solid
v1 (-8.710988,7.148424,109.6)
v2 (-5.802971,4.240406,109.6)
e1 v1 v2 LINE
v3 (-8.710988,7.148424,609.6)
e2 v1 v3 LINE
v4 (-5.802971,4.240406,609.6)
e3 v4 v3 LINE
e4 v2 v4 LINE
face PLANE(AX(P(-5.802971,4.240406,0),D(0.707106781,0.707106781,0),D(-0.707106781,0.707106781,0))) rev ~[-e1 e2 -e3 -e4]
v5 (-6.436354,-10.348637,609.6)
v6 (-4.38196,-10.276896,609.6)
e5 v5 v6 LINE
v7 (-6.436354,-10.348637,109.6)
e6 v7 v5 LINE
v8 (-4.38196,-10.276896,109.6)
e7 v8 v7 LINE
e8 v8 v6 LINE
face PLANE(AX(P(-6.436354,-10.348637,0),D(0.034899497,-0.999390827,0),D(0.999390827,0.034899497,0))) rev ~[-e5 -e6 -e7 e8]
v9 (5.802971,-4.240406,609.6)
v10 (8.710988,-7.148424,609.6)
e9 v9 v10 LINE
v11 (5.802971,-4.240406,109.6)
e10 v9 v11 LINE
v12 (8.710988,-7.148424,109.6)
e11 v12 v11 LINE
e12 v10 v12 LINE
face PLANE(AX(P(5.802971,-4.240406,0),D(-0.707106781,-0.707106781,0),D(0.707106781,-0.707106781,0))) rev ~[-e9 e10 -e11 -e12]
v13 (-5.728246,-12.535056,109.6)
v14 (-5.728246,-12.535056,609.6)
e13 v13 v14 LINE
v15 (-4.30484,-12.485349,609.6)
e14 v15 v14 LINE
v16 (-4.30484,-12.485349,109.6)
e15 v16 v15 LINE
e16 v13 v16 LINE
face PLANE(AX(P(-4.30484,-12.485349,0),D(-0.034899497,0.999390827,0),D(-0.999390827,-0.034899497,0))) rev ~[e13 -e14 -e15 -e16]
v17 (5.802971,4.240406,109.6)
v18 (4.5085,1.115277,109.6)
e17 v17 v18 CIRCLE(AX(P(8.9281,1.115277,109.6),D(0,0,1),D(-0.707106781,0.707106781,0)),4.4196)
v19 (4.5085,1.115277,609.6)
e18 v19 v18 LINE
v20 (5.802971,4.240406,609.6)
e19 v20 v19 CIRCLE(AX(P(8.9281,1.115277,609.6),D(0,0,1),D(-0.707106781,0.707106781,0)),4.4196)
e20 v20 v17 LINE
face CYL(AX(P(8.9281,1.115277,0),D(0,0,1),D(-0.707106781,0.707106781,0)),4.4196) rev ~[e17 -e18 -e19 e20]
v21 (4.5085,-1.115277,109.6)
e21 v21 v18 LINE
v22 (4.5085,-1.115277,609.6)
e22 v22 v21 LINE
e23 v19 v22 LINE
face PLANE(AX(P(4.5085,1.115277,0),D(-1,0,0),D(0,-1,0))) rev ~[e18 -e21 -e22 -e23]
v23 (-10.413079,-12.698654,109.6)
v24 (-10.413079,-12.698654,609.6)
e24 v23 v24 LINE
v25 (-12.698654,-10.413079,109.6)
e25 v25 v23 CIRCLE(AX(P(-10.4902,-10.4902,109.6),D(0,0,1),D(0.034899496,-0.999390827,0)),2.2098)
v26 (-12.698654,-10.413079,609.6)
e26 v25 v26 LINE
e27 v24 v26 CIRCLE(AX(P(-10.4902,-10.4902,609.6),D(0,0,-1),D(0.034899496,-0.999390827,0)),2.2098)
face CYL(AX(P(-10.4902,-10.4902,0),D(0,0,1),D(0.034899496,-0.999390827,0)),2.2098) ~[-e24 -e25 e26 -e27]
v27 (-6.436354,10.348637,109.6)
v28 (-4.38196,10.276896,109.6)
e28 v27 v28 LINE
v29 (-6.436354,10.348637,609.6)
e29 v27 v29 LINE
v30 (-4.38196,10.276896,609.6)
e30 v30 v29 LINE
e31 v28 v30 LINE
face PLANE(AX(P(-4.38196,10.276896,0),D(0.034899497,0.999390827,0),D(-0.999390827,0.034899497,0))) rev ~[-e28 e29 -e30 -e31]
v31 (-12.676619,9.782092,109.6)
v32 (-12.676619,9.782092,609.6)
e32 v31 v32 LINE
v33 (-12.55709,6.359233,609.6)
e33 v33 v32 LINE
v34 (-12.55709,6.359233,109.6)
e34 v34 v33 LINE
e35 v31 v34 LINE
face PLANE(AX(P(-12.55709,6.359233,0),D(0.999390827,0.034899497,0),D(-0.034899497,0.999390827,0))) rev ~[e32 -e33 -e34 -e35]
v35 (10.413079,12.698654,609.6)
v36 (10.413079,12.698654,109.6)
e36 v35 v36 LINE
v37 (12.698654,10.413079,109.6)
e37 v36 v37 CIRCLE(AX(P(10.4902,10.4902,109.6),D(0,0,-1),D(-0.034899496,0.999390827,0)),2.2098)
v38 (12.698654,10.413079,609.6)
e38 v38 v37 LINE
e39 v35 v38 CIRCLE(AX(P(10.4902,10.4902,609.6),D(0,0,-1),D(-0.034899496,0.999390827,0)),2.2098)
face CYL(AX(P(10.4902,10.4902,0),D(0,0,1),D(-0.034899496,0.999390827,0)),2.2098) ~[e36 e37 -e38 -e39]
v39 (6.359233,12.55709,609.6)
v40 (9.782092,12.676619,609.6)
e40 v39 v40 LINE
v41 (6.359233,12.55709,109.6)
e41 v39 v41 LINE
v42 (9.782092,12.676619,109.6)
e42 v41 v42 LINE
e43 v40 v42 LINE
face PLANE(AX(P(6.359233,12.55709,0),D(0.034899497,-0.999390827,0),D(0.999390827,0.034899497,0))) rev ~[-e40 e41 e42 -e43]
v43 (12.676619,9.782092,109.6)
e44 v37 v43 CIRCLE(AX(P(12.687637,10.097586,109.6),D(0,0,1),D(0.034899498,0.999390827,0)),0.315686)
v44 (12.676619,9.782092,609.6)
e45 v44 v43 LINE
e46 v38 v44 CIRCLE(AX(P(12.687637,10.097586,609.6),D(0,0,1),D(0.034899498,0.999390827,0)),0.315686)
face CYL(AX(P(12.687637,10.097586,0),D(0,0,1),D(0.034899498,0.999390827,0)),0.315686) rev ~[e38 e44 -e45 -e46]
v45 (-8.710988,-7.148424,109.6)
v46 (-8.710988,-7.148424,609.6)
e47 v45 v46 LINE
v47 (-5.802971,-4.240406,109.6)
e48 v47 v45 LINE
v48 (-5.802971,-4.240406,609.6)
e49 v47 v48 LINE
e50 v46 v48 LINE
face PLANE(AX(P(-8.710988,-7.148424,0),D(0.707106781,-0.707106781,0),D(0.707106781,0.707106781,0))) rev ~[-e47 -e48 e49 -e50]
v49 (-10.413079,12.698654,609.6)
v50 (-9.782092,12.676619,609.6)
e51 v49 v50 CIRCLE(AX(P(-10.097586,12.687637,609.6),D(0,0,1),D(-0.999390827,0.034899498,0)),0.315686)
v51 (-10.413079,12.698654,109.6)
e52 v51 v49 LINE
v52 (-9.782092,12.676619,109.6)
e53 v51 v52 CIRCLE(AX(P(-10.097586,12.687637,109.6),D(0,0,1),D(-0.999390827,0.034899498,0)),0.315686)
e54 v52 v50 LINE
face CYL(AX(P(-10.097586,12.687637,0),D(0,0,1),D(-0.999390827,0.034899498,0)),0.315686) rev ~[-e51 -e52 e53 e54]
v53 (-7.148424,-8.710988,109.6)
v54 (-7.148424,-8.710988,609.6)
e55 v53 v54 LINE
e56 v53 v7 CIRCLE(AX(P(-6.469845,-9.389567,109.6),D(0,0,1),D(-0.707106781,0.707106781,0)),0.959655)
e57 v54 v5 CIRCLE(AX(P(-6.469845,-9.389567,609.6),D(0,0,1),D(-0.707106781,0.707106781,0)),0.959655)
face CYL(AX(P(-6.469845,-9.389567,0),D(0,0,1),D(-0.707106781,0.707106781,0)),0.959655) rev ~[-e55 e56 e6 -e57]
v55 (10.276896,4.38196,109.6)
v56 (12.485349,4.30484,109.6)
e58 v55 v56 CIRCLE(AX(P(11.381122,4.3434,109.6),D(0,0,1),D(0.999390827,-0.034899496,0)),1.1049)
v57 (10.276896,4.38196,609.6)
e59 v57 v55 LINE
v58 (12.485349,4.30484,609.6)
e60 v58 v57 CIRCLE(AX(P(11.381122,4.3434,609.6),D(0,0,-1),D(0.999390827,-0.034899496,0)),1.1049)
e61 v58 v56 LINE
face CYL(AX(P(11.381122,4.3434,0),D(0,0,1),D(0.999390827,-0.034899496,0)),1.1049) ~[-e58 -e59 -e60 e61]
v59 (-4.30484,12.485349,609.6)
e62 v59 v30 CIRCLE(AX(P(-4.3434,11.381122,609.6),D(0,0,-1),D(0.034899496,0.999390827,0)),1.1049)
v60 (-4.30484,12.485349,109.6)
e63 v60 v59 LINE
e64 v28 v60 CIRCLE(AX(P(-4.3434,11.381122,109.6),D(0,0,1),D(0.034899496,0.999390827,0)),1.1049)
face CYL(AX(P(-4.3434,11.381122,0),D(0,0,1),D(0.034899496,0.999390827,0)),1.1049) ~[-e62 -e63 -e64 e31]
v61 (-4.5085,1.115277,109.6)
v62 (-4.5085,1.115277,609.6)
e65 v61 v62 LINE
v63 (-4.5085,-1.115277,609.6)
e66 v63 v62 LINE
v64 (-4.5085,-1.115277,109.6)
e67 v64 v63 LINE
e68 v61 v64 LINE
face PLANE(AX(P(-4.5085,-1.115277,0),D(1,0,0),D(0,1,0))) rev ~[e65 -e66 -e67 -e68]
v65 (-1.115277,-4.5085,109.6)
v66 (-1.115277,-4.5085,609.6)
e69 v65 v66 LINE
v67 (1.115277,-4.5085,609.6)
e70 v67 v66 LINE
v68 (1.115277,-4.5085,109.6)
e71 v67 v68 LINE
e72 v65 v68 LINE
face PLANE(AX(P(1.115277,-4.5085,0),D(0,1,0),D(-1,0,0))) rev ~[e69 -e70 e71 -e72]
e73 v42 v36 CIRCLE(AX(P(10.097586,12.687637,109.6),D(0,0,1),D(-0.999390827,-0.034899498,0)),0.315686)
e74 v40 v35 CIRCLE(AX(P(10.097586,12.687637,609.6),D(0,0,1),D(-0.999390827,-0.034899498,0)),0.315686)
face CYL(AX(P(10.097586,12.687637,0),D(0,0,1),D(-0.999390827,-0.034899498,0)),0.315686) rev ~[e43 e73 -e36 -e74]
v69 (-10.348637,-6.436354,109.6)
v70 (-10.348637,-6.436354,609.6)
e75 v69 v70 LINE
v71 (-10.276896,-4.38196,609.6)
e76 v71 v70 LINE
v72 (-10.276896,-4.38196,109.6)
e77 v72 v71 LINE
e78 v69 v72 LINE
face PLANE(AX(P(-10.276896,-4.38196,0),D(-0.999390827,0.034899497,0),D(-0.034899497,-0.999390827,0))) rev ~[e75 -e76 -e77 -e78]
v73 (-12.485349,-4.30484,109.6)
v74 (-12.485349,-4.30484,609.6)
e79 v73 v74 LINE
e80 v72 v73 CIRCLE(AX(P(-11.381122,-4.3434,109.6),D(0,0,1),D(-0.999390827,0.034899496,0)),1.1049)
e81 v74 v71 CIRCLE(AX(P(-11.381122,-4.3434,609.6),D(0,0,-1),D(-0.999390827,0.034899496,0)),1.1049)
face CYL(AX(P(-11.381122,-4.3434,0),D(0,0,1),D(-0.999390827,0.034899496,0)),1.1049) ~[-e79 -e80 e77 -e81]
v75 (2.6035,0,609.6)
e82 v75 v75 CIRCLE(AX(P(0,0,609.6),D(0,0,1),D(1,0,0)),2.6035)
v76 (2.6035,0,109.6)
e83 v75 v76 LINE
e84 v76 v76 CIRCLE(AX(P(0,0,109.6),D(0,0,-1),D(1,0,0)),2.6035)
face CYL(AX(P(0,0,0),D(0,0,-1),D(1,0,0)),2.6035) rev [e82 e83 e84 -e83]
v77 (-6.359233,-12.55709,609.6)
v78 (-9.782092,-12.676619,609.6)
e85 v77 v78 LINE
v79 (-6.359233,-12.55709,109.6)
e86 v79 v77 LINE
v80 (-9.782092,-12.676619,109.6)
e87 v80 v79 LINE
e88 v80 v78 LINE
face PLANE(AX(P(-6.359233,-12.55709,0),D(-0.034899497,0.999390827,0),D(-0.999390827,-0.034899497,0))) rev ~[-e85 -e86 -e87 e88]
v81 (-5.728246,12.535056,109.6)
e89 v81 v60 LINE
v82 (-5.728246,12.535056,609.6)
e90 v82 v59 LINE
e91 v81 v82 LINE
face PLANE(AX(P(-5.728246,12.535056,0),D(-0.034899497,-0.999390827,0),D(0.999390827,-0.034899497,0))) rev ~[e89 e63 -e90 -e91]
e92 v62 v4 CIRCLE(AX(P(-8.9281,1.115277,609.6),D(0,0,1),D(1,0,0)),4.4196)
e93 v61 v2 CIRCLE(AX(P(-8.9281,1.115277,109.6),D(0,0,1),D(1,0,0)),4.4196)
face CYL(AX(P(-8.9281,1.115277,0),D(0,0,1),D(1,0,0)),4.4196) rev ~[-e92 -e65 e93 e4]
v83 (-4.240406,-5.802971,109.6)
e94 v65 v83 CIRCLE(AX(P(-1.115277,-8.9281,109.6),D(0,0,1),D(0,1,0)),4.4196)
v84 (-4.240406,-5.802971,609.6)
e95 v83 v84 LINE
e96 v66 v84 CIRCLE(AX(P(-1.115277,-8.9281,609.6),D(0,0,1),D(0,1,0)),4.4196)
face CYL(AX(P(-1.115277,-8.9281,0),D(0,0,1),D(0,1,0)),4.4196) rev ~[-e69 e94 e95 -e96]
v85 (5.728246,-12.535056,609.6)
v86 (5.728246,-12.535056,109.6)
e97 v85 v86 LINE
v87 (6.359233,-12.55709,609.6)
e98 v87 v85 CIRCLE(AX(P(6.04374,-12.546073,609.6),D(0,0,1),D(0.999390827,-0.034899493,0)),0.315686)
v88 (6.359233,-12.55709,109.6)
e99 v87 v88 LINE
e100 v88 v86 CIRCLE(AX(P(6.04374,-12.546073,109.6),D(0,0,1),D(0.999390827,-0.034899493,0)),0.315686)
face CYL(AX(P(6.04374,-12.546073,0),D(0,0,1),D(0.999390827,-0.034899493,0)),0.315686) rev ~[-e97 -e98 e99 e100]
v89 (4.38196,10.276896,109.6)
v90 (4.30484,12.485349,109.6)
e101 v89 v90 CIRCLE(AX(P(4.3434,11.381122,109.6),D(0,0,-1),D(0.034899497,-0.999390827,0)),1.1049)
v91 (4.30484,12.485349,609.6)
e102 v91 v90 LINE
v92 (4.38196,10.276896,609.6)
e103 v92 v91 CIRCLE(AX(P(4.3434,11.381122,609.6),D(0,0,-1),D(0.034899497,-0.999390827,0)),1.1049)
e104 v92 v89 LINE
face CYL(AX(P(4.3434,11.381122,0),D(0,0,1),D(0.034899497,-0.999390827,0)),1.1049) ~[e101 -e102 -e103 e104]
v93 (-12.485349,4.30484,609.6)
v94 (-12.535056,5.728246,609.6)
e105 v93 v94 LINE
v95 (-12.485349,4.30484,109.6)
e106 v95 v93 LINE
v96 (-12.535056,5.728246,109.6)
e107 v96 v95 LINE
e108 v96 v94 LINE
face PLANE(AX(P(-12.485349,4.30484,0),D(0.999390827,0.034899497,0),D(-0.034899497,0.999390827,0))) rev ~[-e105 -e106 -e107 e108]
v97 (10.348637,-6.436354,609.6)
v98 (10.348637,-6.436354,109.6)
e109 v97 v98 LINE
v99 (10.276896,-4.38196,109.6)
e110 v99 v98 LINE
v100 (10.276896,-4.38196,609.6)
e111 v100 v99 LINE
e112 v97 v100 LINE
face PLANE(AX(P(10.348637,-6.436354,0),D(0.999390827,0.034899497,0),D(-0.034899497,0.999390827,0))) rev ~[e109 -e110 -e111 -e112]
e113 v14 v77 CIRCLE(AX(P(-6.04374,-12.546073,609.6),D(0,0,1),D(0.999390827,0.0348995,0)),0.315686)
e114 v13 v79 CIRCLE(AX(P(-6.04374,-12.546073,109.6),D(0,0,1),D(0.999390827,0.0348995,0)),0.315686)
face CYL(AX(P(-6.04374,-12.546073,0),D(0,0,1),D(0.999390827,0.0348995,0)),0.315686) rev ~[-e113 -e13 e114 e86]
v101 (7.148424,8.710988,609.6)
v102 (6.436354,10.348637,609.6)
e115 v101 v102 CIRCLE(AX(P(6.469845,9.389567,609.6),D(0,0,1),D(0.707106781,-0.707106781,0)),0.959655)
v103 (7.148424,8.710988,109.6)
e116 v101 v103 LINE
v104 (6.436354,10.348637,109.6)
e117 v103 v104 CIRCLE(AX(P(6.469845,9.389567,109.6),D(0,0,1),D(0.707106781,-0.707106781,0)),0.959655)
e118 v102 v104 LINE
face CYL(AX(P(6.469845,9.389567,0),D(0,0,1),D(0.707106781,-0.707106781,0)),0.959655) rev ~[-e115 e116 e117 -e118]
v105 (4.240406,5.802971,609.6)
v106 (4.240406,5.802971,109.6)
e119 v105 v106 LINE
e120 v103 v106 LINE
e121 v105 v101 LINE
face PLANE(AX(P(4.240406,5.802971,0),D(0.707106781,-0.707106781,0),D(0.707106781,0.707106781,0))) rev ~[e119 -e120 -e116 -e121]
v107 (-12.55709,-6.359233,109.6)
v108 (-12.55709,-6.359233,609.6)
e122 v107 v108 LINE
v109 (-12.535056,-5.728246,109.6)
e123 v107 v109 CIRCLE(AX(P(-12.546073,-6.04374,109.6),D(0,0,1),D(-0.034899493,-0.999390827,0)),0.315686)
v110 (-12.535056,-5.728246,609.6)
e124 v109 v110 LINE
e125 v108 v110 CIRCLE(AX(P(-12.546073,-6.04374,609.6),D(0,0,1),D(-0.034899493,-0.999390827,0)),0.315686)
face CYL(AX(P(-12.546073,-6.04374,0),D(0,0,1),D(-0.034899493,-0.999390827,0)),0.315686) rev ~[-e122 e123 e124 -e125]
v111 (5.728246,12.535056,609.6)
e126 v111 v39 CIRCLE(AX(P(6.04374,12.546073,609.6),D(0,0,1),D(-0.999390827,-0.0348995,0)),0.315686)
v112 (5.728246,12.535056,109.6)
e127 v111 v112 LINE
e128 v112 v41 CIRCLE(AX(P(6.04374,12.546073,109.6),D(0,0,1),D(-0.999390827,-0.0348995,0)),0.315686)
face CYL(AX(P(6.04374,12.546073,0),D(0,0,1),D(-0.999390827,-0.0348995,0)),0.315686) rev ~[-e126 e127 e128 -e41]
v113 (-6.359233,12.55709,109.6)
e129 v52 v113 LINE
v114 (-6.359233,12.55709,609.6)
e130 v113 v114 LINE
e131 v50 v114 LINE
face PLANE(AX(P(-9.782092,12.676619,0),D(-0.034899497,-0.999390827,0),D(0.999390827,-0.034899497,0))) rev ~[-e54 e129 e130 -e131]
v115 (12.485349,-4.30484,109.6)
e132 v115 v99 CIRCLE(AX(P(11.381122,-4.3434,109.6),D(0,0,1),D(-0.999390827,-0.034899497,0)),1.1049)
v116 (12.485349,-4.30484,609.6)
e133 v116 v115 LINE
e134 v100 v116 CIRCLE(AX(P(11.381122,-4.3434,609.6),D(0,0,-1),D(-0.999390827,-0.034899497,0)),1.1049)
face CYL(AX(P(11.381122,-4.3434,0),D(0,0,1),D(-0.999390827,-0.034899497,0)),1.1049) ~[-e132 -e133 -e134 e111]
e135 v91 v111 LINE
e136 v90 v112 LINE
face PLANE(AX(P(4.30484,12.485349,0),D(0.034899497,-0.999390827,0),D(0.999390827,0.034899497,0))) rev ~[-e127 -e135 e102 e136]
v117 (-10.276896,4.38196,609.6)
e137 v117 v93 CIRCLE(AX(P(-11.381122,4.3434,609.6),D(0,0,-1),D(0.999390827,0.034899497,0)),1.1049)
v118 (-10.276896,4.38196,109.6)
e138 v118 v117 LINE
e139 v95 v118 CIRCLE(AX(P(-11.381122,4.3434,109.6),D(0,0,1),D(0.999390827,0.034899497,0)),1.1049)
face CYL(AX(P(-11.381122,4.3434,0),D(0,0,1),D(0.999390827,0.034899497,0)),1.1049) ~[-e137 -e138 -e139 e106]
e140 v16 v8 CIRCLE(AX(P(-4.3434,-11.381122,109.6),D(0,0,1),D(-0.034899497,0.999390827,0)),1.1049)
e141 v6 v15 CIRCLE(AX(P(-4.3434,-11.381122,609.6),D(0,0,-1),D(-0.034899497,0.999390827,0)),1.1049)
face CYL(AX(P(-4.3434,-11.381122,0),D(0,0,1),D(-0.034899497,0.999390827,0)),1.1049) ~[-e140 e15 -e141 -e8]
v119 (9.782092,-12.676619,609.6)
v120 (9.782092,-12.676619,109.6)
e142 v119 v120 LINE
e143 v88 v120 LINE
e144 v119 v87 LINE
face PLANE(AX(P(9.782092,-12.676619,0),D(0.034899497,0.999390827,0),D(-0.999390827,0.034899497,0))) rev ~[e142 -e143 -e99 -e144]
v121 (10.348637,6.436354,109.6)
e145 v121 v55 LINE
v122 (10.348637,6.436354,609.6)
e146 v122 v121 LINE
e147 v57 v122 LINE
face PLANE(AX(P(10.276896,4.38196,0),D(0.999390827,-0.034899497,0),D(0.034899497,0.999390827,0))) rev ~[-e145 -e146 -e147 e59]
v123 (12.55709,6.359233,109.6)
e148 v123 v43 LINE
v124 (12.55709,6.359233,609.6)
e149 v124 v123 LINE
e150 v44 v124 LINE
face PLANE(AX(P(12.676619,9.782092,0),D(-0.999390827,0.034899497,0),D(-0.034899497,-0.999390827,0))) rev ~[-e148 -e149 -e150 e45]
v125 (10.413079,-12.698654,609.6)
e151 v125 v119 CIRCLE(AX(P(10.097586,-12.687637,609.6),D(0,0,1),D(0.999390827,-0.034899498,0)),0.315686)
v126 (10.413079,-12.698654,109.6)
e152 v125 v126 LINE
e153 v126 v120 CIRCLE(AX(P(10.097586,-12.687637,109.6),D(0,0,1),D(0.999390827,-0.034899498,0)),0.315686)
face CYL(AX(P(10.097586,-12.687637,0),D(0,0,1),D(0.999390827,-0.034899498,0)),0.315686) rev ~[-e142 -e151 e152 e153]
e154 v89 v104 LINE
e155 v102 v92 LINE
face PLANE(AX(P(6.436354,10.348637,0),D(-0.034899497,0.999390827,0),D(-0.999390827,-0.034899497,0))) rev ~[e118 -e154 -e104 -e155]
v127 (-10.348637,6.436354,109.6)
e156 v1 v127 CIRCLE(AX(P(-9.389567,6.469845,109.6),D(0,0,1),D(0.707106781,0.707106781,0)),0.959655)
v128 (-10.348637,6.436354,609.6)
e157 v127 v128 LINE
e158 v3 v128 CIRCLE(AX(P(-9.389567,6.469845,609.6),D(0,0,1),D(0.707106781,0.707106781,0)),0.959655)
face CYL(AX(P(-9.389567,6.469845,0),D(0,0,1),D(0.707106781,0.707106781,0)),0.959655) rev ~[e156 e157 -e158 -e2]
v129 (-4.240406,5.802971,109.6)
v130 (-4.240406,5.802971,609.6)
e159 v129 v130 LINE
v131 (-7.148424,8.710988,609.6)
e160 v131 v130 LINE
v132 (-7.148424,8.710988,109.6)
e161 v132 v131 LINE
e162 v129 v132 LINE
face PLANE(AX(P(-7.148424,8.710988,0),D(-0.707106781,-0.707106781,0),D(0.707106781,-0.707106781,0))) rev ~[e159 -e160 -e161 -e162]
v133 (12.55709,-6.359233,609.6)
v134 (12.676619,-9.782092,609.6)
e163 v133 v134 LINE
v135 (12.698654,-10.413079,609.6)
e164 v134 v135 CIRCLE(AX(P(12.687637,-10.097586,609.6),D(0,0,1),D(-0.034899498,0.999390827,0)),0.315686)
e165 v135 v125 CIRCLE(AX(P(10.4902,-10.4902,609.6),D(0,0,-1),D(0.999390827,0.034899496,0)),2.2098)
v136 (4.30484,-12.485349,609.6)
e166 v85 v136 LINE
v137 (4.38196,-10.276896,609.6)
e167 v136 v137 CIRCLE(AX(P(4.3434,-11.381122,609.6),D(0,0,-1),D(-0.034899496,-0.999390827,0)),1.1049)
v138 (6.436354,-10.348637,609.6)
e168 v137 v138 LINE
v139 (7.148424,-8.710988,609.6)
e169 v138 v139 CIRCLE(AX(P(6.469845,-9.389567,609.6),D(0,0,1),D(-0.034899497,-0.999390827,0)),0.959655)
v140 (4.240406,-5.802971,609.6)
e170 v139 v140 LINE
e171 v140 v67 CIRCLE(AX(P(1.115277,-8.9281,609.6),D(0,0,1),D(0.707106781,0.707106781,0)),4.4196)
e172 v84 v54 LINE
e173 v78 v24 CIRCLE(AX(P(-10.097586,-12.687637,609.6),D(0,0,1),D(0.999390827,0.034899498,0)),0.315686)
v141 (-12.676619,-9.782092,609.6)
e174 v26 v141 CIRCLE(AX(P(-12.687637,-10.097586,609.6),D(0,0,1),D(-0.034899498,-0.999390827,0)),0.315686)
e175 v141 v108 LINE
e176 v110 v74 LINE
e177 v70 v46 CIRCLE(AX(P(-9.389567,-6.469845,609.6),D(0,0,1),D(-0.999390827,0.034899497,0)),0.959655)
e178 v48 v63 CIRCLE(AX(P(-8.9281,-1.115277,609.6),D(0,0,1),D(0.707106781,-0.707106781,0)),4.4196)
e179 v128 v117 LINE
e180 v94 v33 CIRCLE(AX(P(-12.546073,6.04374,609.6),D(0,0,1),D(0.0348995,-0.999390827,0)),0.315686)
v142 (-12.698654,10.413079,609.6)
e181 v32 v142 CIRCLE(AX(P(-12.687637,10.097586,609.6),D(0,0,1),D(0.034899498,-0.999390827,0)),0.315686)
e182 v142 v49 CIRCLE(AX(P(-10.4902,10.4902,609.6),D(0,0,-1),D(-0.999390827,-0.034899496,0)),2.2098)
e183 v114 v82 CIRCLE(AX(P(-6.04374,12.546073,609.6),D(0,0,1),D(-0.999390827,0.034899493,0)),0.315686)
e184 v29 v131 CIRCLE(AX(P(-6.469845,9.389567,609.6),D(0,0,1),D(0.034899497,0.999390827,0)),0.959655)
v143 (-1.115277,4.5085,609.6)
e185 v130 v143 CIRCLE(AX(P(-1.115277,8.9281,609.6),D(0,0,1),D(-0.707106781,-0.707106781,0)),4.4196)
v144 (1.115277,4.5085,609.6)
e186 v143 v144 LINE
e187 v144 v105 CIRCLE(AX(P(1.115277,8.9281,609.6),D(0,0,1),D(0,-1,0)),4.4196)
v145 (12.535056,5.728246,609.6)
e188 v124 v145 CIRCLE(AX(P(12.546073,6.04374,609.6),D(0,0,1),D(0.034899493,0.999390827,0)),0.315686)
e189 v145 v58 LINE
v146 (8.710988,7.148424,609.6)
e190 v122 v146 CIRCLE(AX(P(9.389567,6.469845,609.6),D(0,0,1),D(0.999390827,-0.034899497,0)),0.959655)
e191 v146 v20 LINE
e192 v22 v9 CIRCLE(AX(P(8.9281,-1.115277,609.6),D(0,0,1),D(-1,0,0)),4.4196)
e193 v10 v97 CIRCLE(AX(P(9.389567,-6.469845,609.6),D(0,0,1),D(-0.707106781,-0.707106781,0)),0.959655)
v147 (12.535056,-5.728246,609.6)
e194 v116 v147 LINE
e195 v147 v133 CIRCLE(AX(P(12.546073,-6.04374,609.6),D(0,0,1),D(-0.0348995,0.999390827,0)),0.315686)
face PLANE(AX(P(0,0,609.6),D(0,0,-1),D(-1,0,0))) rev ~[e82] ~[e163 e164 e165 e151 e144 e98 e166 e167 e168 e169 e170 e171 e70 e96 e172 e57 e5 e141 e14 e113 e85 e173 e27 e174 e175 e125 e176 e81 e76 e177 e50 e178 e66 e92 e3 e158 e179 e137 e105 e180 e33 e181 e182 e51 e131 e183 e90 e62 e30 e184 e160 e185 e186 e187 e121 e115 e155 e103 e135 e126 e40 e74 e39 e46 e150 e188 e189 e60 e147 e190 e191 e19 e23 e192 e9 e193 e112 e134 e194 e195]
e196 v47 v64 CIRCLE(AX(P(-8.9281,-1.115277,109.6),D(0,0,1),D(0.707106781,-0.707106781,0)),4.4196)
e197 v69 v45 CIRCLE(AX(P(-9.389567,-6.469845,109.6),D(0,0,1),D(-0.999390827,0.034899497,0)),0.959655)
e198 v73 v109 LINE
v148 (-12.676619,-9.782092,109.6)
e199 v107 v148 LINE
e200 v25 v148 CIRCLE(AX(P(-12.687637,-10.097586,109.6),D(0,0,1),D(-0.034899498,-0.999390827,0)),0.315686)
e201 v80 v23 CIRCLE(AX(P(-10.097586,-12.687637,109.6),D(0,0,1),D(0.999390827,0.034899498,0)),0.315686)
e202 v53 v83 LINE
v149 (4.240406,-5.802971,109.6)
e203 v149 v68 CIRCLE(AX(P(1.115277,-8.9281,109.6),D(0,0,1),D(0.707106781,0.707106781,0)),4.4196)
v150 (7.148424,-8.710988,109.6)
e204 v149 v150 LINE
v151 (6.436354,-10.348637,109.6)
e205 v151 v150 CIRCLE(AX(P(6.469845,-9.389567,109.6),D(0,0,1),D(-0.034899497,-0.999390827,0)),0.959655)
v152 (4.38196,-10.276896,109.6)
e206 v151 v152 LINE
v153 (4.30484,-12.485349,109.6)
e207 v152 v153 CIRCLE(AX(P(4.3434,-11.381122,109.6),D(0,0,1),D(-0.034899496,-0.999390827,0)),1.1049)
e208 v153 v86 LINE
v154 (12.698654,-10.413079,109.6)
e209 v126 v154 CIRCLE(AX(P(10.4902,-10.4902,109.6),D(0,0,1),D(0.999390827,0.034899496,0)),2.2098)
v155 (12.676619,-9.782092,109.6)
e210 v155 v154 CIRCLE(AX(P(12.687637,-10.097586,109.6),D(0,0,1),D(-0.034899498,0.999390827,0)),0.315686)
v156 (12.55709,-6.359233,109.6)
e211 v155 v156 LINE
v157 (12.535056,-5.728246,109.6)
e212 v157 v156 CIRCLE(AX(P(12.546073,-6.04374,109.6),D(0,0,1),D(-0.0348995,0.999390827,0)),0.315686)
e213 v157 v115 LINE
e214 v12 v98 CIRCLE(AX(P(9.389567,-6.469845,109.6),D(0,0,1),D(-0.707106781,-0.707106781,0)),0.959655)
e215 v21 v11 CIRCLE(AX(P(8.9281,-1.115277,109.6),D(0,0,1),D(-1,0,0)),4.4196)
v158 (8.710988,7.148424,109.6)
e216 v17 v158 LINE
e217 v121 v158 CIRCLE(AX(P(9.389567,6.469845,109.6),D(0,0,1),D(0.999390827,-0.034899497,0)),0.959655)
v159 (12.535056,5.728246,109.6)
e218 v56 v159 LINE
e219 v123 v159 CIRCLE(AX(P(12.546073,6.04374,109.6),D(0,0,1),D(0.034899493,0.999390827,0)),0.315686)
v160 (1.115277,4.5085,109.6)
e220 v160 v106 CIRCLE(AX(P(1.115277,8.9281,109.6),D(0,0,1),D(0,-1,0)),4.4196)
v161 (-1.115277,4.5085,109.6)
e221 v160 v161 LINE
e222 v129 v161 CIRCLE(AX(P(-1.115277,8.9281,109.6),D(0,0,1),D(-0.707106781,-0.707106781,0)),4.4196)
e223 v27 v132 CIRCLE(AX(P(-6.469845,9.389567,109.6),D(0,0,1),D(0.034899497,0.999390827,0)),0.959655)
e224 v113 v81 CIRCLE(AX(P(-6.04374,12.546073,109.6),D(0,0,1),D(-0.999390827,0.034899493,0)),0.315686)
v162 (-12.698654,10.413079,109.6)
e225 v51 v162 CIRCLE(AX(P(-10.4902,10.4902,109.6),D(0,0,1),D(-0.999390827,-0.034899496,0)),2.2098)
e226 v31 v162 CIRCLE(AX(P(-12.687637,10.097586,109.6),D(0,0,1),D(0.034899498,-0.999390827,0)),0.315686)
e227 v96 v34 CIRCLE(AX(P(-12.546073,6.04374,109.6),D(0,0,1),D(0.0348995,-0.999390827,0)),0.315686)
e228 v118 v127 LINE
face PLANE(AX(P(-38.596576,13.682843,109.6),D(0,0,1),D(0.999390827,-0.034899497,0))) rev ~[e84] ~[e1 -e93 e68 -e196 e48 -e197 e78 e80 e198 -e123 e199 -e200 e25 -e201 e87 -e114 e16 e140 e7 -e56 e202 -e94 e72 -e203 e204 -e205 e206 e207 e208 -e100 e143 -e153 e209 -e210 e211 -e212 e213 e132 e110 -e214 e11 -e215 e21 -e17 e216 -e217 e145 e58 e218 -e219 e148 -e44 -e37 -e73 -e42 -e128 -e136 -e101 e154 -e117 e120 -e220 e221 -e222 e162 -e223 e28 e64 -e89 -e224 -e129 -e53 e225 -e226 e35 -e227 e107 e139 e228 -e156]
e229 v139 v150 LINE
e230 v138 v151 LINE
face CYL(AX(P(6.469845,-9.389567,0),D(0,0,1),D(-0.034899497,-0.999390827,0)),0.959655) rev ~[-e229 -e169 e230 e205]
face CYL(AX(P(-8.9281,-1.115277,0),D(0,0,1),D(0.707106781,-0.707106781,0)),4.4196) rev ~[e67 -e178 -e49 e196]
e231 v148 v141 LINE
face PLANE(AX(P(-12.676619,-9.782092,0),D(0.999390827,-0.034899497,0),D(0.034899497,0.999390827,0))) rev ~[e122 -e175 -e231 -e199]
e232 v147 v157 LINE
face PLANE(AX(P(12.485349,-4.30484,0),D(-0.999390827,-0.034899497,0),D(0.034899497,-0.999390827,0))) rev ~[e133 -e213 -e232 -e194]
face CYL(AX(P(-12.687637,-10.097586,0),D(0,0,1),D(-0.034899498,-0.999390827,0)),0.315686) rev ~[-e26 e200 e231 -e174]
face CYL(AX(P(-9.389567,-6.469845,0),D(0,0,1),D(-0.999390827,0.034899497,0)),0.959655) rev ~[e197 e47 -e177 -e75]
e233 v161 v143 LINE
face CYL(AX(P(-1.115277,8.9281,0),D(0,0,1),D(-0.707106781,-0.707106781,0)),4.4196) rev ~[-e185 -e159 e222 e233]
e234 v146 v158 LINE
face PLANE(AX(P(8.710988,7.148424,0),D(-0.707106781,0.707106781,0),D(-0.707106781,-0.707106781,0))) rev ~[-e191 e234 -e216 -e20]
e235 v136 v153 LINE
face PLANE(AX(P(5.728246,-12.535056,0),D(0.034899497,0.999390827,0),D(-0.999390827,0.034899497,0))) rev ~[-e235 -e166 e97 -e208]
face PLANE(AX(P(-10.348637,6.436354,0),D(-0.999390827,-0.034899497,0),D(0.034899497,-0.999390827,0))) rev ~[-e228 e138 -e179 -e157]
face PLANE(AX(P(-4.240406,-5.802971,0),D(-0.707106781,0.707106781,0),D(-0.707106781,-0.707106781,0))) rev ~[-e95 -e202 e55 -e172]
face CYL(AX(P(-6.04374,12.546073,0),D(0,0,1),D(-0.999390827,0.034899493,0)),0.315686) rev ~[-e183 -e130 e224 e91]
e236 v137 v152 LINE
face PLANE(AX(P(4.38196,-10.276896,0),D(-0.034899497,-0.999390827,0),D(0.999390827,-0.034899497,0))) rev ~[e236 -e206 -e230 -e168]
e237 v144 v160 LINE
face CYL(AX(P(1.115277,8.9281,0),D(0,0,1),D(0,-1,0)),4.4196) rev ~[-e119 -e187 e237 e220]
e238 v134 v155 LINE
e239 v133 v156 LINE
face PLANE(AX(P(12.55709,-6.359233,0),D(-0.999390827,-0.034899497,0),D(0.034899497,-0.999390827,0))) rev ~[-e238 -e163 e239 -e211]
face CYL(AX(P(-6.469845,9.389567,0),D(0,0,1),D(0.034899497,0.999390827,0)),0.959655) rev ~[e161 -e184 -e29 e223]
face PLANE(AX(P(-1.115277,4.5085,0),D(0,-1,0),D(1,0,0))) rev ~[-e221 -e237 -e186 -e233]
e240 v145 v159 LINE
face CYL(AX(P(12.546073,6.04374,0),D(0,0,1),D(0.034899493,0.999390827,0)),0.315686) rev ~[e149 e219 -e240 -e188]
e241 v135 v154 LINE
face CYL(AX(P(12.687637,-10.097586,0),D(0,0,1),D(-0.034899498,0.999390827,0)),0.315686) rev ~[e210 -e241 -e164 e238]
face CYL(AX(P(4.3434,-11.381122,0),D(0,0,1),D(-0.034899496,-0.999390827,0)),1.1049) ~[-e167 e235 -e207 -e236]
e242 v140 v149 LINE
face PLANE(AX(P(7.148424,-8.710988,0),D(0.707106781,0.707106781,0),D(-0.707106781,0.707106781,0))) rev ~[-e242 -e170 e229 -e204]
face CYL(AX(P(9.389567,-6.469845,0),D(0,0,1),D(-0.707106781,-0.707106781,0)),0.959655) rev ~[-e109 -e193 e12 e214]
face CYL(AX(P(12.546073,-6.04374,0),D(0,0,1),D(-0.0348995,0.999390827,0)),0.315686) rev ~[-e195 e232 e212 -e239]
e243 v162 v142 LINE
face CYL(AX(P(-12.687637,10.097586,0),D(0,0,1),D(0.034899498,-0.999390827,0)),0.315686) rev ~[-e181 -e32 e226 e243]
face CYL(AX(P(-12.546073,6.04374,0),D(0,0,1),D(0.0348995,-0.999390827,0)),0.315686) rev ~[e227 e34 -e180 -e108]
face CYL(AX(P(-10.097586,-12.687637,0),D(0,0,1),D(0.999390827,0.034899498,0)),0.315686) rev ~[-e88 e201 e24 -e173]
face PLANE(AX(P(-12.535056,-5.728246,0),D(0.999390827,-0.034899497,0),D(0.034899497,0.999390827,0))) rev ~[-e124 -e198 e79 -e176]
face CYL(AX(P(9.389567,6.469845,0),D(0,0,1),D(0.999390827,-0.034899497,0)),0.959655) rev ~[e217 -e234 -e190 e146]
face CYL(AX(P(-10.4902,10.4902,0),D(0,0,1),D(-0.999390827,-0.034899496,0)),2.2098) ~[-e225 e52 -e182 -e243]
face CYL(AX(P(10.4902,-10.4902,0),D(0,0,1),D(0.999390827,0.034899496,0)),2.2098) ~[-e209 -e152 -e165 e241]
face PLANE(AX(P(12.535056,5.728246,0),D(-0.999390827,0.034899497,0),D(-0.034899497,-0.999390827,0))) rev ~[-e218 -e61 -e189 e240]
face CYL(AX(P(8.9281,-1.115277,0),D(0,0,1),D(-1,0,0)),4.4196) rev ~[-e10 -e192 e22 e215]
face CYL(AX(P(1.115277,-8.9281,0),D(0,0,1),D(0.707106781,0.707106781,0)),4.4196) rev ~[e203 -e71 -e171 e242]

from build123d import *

# Parameters (mm, degrees)
SKETCH3_R               = 2.6035
EXTRUDE1_DEPTH          = 609.6
SKETCH5_W               = 65.927676168
SKETCH5_H               = 719.2
CUT_EXTRUDE1_DEPTH      = 10
CUT_EXTRUDE1_DEPTH_BACK = 34


with BuildPart() as part:
    # Sketch3 → Extrude1 (new body, symmetric)
    with BuildSketch(Plane.XY):
        with BuildLine():
            Line((-1.115277175, 4.5085), (1.115277175, 4.5085))
            ThreePointArc((1.115277175, 4.5085), (2.806584872, 4.844922018), (4.240406305, 5.80297087))
            Line((4.240406305, 5.80297087), (7.148423664, 8.710988229))
            ThreePointArc((7.148423664, 8.710988229), (7.349906316, 9.772227925), (6.436353897, 10.348636575))
            Line((6.436353897, 10.348636575), (4.381960454, 10.276895575))
            ThreePointArc((4.381960454, 10.276895575), (3.239173075, 11.342562046), (4.304839546, 12.485349424))
            Line((4.304839546, 12.485349424), (5.728246175, 12.535055879))
            ThreePointArc((5.728246175, 12.535055879), (6.054756855, 12.230579745), (6.35923299, 12.557090424))
            Line((6.35923299, 12.557090424), (9.782092278, 12.676619304))
            ThreePointArc((9.782092278, 12.676619304), (10.108602958, 12.37214317), (10.413079092, 12.69865385))
            ThreePointArc((10.413079092, 12.69865385), (12.052764565, 12.052764565), (12.69865385, 10.413079092))
            ThreePointArc((12.69865385, 10.413079092), (12.37214317, 10.108602958), (12.676619304, 9.782092278))
            Line((12.676619304, 9.782092278), (12.557090424, 6.35923299))
            ThreePointArc((12.557090424, 6.35923299), (12.230579745, 6.054756855), (12.535055879, 5.728246175))
            Line((12.535055879, 5.728246175), (12.485349424, 4.304839546))
            ThreePointArc((12.485349424, 4.304839546), (11.342562046, 3.239173075), (10.276895575, 4.381960454))
            Line((10.276895575, 4.381960454), (10.348636575, 6.436353897))
            ThreePointArc((10.348636575, 6.436353897), (9.772227925, 7.349906316), (8.710988229, 7.148423664))
            Line((8.710988229, 7.148423664), (5.80297087, 4.240406305))
            ThreePointArc((5.80297087, 4.240406305), (4.844922018, 2.806584872), (4.5085, 1.115277175))
            Line((4.5085, 1.115277175), (4.5085, -1.115277175))
            ThreePointArc((4.5085, -1.115277175), (4.844922018, -2.806584872), (5.80297087, -4.240406305))
            Line((5.80297087, -4.240406305), (8.710988229, -7.148423664))
            ThreePointArc((8.710988229, -7.148423664), (9.772227925, -7.349906316), (10.348636575, -6.436353897))
            Line((10.348636575, -6.436353897), (10.276895575, -4.381960454))
            ThreePointArc((10.276895575, -4.381960454), (11.342562046, -3.239173075), (12.485349424, -4.304839546))
            Line((12.485349424, -4.304839546), (12.535055879, -5.728246175))
            ThreePointArc((12.535055879, -5.728246175), (12.230579745, -6.054756855), (12.557090424, -6.35923299))
            Line((12.557090424, -6.35923299), (12.676619304, -9.782092278))
            ThreePointArc((12.676619304, -9.782092278), (12.37214317, -10.108602958), (12.69865385, -10.413079092))
            ThreePointArc((12.69865385, -10.413079092), (12.052764565, -12.052764565), (10.413079092, -12.69865385))
            ThreePointArc((10.413079092, -12.69865385), (10.108602958, -12.37214317), (9.782092278, -12.676619304))
            Line((9.782092278, -12.676619304), (6.35923299, -12.557090424))
            ThreePointArc((6.35923299, -12.557090424), (6.054756855, -12.230579745), (5.728246175, -12.535055879))
            Line((5.728246175, -12.535055879), (4.304839546, -12.485349424))
            ThreePointArc((4.304839546, -12.485349424), (3.239173075, -11.342562046), (4.381960454, -10.276895575))
            Line((4.381960454, -10.276895575), (6.436353897, -10.348636575))
            ThreePointArc((6.436353897, -10.348636575), (7.349906316, -9.772227925), (7.148423664, -8.710988229))
            Line((7.148423664, -8.710988229), (4.240406305, -5.80297087))
            ThreePointArc((4.240406305, -5.80297087), (2.806584872, -4.844922018), (1.115277175, -4.5085))
            Line((1.115277175, -4.5085), (-1.115277175, -4.5085))
            ThreePointArc((-1.115277175, -4.5085), (-2.806584872, -4.844922018), (-4.240406305, -5.80297087))
            Line((-4.240406305, -5.80297087), (-7.148423664, -8.710988229))
            ThreePointArc((-7.148423664, -8.710988229), (-7.349906316, -9.772227925), (-6.436353897, -10.348636575))
            Line((-6.436353897, -10.348636575), (-4.381960454, -10.276895575))
            ThreePointArc((-4.381960454, -10.276895575), (-3.239173075, -11.342562046), (-4.304839546, -12.485349424))
            Line((-4.304839546, -12.485349424), (-5.728246175, -12.535055879))
            ThreePointArc((-5.728246175, -12.535055879), (-6.054756855, -12.230579745), (-6.35923299, -12.557090424))
            Line((-6.35923299, -12.557090424), (-9.782092278, -12.676619304))
            ThreePointArc((-9.782092278, -12.676619304), (-10.108602958, -12.37214317), (-10.413079092, -12.69865385))
            ThreePointArc((-10.413079092, -12.69865385), (-12.052764565, -12.052764565), (-12.69865385, -10.413079092))
            ThreePointArc((-12.69865385, -10.413079092), (-12.37214317, -10.108602958), (-12.676619304, -9.782092278))
            Line((-12.676619304, -9.782092278), (-12.557090424, -6.35923299))
            ThreePointArc((-12.557090424, -6.35923299), (-12.230579745, -6.054756855), (-12.535055879, -5.728246175))
            Line((-12.535055879, -5.728246175), (-12.485349424, -4.304839546))
            ThreePointArc((-12.485349424, -4.304839546), (-11.342562046, -3.239173075), (-10.276895575, -4.381960454))
            Line((-10.276895575, -4.381960454), (-10.348636575, -6.436353897))
            ThreePointArc((-10.348636575, -6.436353897), (-9.772227925, -7.349906316), (-8.710988229, -7.148423664))
            Line((-8.710988229, -7.148423664), (-5.80297087, -4.240406305))
            ThreePointArc((-5.80297087, -4.240406305), (-4.844922018, -2.806584872), (-4.5085, -1.115277175))
            Line((-4.5085, -1.115277175), (-4.5085, 1.115277175))
            ThreePointArc((-4.5085, 1.115277175), (-4.844922018, 2.806584872), (-5.80297087, 4.240406305))
            Line((-5.80297087, 4.240406305), (-8.710988229, 7.148423664))
            ThreePointArc((-8.710988229, 7.148423664), (-9.772227925, 7.349906316), (-10.348636575, 6.436353897))
            Line((-10.348636575, 6.436353897), (-10.276895575, 4.381960454))
            ThreePointArc((-10.276895575, 4.381960454), (-11.342562046, 3.239173075), (-12.485349424, 4.304839546))
            Line((-12.485349424, 4.304839546), (-12.535055879, 5.728246175))
            ThreePointArc((-12.535055879, 5.728246175), (-12.230579745, 6.054756855), (-12.557090424, 6.35923299))
            Line((-12.557090424, 6.35923299), (-12.676619304, 9.782092278))
            ThreePointArc((-12.676619304, 9.782092278), (-12.37214317, 10.108602958), (-12.69865385, 10.413079092))
            ThreePointArc((-12.69865385, 10.413079092), (-12.052764565, 12.052764565), (-10.413079092, 12.69865385))
            ThreePointArc((-10.413079092, 12.69865385), (-10.108602958, 12.37214317), (-9.782092278, 12.676619304))
            Line((-9.782092278, 12.676619304), (-6.35923299, 12.557090424))
            ThreePointArc((-6.35923299, 12.557090424), (-6.054756855, 12.230579745), (-5.728246175, 12.535055879))
            Line((-5.728246175, 12.535055879), (-4.304839546, 12.485349424))
            ThreePointArc((-4.304839546, 12.485349424), (-3.239173075, 11.342562046), (-4.381960454, 10.276895575))
            Line((-4.381960454, 10.276895575), (-6.436353897, 10.348636575))
            ThreePointArc((-6.436353897, 10.348636575), (-7.349906316, 9.772227925), (-7.148423664, 8.710988229))
            Line((-7.148423664, 8.710988229), (-4.240406305, 5.80297087))
            ThreePointArc((-4.240406305, 5.80297087), (-2.806584872, 4.844922018), (-1.115277175, 4.5085))
        make_face()
        Circle(SKETCH3_R, mode=Mode.SUBTRACT)
    extrude(amount=EXTRUDE1_DEPTH, both=True)

    # Sketch5 → Cut-Extrude1 (cut, two sides)
    with BuildSketch(Plane(origin=(0.430223788, 12.319997369, 0), x_dir=(0.999390827, -0.034899497, 0), z_dir=(0.034899497, 0.999390827, 0))) as cut_extrude1_sk:
        with Locations((-6.086750473, 250)):
            Rectangle(SKETCH5_W, SKETCH5_H)
    extrude(amount=CUT_EXTRUDE1_DEPTH, mode=Mode.SUBTRACT)
    extrude(cut_extrude1_sk.sketch, amount=-CUT_EXTRUDE1_DEPTH_BACK, mode=Mode.SUBTRACT)


solid = part.part
